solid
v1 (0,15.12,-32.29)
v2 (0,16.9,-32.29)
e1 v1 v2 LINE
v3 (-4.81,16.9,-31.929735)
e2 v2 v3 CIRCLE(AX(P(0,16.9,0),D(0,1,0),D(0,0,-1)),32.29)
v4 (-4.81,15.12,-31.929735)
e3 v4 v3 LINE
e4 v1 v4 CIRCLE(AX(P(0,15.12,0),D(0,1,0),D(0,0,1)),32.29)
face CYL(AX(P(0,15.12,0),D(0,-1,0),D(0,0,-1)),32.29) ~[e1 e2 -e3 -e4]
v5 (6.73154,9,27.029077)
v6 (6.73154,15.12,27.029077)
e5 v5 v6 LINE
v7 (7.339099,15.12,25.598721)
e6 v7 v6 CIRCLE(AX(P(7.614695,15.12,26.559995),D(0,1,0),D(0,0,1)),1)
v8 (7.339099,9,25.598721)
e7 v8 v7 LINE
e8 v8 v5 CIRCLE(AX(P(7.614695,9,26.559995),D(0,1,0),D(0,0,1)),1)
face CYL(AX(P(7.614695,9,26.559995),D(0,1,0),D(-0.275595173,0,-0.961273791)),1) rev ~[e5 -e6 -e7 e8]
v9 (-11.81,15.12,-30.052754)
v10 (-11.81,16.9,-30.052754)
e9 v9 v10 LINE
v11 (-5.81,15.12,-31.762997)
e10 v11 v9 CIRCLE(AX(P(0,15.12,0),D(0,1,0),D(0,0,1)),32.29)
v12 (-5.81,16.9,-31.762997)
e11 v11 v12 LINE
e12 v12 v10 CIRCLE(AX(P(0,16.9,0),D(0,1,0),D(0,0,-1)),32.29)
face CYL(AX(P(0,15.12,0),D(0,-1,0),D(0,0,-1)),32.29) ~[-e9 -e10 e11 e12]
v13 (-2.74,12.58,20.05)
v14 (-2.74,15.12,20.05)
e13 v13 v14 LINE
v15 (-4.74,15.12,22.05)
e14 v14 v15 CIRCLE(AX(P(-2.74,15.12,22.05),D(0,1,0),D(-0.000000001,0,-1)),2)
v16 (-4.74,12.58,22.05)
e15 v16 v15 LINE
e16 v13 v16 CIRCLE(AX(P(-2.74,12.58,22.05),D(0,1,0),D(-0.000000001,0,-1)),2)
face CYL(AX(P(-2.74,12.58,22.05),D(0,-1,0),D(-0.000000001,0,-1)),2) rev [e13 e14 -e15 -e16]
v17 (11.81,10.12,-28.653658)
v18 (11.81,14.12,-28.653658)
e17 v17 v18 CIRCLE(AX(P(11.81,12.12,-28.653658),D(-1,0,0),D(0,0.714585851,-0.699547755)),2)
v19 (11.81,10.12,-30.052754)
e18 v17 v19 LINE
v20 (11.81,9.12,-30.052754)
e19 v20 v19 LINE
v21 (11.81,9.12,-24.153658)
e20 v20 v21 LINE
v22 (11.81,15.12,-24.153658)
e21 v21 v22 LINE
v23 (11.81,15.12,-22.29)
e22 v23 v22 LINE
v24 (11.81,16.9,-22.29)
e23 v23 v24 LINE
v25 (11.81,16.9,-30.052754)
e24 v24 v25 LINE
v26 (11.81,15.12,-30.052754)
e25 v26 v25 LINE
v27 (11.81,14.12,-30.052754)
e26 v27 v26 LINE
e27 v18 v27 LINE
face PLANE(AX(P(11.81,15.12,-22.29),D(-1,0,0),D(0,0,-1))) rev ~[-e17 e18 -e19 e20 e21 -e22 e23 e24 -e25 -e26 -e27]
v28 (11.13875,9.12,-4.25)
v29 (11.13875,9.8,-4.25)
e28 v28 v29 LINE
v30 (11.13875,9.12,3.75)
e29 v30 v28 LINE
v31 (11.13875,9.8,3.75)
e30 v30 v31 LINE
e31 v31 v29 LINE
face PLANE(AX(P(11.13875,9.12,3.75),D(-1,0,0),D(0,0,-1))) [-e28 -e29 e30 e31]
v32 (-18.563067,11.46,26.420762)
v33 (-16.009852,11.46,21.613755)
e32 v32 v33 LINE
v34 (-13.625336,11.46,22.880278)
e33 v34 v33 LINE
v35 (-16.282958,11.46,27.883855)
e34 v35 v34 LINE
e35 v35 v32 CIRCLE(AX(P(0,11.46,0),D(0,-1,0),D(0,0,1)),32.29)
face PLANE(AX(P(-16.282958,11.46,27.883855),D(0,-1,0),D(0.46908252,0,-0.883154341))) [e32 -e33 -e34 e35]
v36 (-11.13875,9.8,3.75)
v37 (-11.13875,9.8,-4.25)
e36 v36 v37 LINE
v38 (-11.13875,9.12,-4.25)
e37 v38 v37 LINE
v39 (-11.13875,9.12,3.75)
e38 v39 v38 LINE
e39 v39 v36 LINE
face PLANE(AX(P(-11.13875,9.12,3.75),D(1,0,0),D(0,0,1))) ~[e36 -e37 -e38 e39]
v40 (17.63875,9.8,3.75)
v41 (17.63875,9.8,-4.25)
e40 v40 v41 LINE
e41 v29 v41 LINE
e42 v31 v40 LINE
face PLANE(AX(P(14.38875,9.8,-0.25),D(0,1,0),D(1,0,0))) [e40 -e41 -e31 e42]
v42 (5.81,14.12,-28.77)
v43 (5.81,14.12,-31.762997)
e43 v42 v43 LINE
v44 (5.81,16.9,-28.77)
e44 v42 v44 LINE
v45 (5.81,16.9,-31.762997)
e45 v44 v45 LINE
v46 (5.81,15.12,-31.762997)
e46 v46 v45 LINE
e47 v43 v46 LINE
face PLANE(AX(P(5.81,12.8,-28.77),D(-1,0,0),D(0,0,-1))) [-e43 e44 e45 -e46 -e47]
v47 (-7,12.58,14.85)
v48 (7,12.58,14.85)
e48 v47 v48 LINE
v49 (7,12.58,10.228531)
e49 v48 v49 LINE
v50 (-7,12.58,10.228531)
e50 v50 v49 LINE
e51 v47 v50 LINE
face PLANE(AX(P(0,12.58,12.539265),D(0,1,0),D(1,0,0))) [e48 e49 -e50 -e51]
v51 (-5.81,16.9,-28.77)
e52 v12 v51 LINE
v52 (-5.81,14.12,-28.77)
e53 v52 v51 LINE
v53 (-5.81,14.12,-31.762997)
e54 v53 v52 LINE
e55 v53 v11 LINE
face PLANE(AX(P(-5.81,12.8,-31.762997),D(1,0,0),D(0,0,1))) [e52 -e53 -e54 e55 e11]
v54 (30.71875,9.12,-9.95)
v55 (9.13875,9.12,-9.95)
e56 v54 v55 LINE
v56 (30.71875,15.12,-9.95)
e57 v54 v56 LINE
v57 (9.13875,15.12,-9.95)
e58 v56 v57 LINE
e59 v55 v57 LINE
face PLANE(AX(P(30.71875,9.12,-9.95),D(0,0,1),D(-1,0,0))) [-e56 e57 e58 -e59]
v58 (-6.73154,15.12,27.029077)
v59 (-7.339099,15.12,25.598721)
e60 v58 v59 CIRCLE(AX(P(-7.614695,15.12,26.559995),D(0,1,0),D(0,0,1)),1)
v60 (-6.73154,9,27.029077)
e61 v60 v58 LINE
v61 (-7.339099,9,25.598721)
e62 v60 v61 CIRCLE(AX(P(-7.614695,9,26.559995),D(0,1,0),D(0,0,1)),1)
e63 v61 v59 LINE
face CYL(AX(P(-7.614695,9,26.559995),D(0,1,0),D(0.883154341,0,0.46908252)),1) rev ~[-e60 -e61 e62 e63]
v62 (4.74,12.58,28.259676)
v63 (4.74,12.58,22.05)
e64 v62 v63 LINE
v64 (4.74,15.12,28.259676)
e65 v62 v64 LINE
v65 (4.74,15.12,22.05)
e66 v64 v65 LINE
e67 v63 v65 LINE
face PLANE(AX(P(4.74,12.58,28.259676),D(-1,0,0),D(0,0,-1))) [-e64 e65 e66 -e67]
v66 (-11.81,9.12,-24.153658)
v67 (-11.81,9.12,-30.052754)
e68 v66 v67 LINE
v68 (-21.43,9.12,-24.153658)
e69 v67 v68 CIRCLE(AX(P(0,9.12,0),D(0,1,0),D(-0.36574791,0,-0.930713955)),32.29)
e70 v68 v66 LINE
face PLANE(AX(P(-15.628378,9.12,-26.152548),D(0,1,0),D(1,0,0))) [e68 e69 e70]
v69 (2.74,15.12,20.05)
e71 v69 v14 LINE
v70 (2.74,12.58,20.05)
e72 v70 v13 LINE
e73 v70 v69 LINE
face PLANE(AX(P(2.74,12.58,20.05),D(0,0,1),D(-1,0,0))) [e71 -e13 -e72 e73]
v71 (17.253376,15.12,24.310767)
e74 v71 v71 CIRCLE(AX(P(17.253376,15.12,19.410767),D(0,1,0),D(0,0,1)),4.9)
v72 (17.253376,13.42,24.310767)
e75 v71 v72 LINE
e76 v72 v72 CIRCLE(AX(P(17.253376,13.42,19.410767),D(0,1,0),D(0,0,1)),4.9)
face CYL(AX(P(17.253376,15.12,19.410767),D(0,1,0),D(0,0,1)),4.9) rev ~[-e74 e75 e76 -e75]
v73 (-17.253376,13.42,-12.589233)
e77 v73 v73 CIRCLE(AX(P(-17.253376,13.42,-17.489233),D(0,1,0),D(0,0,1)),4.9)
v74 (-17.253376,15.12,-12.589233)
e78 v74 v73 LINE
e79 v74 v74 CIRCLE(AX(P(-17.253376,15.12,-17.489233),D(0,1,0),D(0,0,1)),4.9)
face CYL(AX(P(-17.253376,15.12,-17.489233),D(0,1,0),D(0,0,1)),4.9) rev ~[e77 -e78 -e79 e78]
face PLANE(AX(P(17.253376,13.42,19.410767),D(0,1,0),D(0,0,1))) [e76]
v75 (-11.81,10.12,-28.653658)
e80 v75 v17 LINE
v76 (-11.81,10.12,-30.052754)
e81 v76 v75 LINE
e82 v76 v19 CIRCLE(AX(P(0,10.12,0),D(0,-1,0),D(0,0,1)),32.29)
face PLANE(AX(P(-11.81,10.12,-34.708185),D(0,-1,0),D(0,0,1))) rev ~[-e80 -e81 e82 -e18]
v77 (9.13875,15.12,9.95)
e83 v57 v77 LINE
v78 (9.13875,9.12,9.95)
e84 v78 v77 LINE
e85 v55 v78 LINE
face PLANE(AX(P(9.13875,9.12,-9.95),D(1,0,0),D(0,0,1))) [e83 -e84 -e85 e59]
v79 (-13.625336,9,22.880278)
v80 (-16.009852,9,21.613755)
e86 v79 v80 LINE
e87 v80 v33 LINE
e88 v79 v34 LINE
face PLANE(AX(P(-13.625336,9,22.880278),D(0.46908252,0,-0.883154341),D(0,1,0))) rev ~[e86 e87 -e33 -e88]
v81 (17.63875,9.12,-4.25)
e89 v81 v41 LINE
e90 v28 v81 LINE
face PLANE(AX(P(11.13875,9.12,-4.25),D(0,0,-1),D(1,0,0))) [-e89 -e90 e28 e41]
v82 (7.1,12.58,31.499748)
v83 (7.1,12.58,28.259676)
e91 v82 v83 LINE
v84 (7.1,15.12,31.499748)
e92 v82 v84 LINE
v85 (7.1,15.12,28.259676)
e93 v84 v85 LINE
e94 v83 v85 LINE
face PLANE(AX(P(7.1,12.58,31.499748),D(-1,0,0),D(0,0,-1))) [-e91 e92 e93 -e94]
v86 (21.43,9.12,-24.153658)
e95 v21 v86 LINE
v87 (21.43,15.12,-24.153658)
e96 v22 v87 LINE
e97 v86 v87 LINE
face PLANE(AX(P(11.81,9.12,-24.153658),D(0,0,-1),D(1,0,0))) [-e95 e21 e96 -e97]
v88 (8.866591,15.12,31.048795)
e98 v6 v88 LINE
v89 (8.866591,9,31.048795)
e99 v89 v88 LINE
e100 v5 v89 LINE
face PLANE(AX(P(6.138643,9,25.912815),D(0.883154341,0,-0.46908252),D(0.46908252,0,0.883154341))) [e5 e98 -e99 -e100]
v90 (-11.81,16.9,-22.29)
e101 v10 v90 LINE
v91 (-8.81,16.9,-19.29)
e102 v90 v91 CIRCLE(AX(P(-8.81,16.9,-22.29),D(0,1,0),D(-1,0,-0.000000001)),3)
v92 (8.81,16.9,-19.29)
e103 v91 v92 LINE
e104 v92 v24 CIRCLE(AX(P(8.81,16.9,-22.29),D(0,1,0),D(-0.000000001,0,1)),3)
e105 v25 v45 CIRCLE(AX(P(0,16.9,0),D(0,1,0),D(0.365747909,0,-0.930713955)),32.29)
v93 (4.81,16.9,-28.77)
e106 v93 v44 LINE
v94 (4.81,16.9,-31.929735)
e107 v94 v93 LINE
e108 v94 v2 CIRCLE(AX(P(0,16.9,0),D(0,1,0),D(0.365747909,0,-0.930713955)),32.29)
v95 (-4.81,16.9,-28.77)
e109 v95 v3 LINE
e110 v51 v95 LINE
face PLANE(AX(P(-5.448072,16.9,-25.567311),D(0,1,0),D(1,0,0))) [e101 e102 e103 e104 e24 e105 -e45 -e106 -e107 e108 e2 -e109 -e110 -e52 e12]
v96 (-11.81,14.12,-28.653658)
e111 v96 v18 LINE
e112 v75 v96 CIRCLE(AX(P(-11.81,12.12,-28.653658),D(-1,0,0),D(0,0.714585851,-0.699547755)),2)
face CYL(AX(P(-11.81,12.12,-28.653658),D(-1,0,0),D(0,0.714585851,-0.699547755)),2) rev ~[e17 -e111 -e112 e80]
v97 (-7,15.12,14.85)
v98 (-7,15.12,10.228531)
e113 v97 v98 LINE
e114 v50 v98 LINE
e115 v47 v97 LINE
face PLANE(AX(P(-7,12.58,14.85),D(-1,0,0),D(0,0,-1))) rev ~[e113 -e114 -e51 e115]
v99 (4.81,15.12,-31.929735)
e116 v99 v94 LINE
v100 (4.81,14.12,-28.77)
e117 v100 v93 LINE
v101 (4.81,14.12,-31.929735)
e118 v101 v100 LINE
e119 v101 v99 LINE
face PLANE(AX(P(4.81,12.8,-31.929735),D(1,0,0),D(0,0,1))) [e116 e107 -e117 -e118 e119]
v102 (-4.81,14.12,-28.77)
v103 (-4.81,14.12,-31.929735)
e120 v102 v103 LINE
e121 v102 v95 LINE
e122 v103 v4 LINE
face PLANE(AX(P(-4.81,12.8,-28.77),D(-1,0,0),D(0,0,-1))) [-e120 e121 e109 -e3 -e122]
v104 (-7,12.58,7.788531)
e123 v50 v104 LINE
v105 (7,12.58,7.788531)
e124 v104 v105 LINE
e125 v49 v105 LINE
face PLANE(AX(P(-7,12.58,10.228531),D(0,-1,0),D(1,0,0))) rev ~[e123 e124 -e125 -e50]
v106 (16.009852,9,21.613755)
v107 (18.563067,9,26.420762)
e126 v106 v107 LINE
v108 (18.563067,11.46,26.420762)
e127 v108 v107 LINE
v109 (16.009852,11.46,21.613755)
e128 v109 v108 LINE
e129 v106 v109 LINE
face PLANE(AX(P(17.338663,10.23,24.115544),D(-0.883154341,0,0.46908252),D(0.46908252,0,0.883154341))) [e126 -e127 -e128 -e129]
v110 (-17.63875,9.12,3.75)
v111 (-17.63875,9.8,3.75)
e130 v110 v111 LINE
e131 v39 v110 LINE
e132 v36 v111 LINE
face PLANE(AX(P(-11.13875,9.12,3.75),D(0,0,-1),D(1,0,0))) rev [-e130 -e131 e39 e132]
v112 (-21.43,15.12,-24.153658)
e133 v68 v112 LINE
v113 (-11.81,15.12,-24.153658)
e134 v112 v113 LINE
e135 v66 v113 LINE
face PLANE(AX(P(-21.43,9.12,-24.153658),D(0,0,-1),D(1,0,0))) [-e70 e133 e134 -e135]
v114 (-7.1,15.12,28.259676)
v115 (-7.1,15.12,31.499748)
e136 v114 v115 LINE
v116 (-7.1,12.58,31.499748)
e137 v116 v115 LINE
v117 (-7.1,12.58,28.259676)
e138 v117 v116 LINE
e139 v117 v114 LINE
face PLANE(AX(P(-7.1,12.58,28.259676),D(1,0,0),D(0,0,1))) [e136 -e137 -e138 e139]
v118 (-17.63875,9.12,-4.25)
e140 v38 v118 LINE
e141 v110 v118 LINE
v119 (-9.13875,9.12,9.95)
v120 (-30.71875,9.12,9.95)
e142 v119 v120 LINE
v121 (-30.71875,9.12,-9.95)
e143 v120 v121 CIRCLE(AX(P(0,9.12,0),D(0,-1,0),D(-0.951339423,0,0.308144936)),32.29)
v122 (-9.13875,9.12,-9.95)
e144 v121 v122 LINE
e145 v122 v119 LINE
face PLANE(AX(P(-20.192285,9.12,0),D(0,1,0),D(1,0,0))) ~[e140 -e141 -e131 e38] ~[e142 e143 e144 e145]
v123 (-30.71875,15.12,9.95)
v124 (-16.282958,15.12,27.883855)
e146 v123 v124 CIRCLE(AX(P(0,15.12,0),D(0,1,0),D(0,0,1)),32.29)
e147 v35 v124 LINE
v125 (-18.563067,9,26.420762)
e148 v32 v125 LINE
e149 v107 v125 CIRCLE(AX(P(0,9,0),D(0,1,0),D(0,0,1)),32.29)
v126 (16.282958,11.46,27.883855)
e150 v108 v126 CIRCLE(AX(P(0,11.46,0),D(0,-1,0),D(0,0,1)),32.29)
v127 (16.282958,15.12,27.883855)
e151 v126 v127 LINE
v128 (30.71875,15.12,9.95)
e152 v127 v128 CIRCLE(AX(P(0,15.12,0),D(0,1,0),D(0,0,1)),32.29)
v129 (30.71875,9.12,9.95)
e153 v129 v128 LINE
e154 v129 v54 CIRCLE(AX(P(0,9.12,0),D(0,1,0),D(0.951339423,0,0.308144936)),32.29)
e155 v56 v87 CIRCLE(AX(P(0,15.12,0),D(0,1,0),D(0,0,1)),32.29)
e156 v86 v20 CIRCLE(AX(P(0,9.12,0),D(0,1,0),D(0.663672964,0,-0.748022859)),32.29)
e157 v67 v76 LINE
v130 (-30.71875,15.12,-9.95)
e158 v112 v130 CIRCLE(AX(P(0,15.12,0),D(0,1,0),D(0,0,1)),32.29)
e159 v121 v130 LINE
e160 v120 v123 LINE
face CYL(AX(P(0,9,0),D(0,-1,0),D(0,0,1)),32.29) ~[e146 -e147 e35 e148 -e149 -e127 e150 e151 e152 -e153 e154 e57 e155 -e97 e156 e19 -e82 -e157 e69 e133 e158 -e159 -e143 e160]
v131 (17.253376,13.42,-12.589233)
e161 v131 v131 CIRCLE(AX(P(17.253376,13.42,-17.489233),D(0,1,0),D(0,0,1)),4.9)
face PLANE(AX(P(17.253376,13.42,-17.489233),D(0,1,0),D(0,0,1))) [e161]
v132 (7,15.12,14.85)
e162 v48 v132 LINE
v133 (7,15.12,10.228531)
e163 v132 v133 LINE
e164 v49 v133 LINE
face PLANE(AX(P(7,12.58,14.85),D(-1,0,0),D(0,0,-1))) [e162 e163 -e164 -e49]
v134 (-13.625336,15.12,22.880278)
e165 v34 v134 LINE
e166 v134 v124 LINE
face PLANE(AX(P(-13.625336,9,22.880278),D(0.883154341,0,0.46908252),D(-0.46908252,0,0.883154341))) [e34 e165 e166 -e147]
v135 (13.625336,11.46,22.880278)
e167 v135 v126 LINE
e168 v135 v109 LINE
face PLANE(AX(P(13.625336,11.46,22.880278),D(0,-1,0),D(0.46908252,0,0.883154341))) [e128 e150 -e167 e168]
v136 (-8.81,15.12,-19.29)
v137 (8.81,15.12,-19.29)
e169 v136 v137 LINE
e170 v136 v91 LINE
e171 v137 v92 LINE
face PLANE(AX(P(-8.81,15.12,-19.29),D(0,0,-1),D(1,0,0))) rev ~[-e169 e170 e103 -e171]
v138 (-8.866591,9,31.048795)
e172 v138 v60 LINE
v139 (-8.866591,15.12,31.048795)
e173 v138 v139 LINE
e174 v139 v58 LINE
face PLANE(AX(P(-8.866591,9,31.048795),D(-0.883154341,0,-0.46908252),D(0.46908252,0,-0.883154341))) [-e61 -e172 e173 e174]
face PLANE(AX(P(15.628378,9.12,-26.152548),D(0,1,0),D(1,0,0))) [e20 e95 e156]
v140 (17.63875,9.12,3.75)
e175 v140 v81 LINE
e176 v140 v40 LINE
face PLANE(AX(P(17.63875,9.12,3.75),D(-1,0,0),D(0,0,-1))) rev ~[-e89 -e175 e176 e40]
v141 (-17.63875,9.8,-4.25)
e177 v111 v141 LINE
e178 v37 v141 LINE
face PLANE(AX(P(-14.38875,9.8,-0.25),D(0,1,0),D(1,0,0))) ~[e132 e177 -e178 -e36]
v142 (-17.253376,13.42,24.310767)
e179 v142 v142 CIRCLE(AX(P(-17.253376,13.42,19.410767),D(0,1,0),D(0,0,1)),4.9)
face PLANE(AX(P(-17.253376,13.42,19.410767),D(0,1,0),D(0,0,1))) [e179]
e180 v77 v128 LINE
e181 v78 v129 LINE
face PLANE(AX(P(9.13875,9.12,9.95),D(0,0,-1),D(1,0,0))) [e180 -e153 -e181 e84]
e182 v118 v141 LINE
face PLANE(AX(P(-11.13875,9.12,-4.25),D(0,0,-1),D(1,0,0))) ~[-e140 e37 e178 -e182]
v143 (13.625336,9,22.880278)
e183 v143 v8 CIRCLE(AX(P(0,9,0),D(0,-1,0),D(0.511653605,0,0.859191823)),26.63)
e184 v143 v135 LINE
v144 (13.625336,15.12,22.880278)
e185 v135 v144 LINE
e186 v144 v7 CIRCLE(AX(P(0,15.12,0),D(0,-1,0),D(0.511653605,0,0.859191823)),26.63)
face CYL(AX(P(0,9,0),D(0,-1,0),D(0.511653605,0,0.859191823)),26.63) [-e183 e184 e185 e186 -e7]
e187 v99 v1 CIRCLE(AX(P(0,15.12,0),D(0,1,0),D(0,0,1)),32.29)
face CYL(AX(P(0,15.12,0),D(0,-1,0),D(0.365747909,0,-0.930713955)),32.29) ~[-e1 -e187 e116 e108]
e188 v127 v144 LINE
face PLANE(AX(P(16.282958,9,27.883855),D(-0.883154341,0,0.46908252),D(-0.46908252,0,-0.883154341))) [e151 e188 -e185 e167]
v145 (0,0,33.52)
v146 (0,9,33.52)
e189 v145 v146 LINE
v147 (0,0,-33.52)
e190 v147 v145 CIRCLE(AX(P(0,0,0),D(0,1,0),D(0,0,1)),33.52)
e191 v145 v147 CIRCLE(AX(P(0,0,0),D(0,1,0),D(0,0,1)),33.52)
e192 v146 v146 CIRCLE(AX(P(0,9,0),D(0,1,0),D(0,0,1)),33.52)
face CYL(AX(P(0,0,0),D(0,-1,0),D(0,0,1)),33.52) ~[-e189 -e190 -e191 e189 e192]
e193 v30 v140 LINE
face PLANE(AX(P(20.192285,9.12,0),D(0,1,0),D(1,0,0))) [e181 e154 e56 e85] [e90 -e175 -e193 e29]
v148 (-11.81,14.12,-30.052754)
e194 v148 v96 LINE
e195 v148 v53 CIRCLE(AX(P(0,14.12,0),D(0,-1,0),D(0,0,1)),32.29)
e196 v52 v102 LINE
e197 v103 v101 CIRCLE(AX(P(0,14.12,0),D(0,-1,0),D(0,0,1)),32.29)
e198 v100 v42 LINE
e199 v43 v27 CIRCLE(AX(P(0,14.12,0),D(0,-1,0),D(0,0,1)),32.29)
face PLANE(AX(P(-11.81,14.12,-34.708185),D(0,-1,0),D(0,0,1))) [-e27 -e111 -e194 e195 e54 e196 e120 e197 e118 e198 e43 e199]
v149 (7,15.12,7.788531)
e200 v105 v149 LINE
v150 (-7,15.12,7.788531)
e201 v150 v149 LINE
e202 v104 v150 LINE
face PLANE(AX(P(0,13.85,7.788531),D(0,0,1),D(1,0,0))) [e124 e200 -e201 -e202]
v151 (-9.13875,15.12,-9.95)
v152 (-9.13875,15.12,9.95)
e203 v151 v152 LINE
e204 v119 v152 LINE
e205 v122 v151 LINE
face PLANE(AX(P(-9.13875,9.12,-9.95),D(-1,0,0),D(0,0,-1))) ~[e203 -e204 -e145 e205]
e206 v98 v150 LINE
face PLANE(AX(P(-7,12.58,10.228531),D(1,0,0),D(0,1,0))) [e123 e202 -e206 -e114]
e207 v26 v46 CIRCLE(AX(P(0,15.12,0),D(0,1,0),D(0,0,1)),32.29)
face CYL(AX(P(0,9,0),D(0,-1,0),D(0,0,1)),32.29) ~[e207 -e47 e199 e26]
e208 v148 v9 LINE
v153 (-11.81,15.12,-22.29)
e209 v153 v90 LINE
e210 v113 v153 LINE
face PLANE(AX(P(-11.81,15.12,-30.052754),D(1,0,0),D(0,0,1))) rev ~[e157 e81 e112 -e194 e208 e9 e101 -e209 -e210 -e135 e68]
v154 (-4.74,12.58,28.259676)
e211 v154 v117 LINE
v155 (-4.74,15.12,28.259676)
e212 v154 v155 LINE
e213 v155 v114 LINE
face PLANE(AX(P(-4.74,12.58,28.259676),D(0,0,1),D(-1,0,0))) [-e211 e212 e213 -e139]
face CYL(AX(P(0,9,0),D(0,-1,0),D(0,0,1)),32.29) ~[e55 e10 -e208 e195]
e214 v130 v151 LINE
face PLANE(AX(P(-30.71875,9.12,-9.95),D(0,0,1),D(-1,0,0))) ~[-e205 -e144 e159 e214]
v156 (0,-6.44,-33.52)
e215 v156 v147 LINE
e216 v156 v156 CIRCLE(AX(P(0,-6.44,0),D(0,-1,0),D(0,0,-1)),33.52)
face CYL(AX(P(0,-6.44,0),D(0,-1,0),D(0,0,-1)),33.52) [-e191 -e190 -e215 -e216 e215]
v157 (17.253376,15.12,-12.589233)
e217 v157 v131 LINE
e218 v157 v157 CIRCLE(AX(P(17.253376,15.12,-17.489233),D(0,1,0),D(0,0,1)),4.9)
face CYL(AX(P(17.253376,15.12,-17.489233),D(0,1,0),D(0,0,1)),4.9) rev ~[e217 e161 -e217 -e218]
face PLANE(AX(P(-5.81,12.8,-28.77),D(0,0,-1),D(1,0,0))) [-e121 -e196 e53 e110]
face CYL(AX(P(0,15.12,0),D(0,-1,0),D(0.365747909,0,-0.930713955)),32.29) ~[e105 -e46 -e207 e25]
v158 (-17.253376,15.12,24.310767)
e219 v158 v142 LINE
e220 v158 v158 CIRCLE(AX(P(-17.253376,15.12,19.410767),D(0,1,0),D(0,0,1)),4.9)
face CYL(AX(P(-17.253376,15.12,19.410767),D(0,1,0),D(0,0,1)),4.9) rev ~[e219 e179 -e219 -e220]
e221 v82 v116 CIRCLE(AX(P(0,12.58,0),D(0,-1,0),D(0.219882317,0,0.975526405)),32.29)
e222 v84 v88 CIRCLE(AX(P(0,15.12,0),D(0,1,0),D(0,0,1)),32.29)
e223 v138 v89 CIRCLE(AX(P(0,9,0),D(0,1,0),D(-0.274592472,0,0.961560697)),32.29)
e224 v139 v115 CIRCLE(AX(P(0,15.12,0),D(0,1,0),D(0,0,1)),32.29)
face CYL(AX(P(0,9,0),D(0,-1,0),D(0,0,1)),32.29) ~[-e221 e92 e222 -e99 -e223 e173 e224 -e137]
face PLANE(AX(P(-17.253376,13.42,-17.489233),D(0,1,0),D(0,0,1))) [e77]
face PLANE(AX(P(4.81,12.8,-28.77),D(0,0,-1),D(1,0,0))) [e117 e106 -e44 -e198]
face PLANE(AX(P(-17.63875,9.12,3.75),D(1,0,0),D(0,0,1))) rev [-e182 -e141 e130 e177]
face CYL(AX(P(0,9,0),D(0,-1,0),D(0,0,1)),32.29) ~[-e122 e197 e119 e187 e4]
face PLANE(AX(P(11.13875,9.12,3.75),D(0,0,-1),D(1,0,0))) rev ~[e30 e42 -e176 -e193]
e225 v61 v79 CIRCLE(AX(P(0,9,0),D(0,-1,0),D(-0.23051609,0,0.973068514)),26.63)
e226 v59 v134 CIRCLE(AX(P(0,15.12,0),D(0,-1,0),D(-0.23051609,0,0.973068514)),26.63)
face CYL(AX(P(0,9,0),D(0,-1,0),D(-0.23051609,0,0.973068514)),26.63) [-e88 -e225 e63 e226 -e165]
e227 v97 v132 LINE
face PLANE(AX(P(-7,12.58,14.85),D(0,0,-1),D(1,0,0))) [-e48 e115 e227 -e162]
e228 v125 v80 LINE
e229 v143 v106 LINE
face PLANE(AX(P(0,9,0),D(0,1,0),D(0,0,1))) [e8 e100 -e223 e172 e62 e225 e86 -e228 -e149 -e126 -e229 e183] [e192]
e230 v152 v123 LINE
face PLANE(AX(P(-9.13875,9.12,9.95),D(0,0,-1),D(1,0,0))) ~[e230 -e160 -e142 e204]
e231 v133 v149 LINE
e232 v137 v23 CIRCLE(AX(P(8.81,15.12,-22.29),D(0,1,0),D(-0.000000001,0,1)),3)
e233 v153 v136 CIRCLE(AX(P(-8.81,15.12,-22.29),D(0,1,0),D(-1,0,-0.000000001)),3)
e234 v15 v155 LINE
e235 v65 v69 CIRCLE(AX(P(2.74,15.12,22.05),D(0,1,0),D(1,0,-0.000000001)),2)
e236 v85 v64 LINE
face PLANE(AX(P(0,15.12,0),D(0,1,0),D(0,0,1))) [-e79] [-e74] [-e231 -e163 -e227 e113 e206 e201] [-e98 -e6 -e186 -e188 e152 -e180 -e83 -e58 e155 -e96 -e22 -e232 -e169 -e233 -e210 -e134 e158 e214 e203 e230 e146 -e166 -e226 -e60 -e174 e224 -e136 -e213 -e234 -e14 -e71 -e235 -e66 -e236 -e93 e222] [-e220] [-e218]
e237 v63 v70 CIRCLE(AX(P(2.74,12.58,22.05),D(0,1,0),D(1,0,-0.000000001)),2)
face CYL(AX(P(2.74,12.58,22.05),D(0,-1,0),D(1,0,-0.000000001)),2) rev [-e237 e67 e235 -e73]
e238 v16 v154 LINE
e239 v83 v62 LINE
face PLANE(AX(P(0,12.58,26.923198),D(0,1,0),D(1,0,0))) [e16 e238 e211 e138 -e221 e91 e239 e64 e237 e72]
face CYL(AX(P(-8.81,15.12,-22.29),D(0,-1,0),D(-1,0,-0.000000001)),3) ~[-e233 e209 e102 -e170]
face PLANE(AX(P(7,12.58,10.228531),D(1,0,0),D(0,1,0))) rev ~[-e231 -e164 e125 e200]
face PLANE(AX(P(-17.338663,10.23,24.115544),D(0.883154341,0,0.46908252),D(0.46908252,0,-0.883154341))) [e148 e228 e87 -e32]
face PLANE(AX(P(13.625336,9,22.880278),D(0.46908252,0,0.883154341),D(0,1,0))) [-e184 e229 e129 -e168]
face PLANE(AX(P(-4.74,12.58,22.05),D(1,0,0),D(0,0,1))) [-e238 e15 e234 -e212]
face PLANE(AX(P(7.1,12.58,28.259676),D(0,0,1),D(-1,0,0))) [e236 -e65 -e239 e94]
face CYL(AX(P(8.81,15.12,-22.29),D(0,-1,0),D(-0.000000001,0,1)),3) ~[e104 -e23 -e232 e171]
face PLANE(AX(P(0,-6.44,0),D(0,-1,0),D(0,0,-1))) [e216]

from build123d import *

# Parameters (mm, degrees)
SKETCH1_R           = 33.52
BOSS_EXTRUDE1_DEPTH = 9
SKETCH2_R           = 32.29
BOSS_EXTRUDE2_DEPTH = 6.12
CUT_EXTRUDE1_START  = -6
CUT_EXTRUDE1_DEPTH  = 6
SKETCH10_R          = 2
CUT_EXTRUDE2_DEPTH  = 59.369629946
SKETCH23_W          = 6.054526745
SKETCH23_H          = 4
CUT_EXTRUDE3_DEPTH  = 59.369629972
BOSS_EXTRUDE4_DEPTH = 1.78
CUT_EXTRUDE5_START  = -6
CUT_EXTRUDE5_DEPTH  = 6
CUT_EXTRUDE6_START  = -2.54
SKETCH26_W          = 14
SKETCH26_H          = 4.621469047
CUT_EXTRUDE6_DEPTH  = 2.54
CUT_EXTRUDE7_START  = -6.12
CUT_EXTRUDE7_DEPTH  = 6.12
SKETCH26_7_R        = 4.9
CUT_EXTRUDE8_DEPTH  = 1.7
SKETCH37_W          = 5.66557495
SKETCH37_H          = 2.46
CUT_EXTRUDE13_DEPTH = 2.7
SKETCH30_W          = 5.66557495
SKETCH30_H          = 2.46
CUT_EXTRUDE14_DEPTH = 2.7
SKETCH40_W          = 6.5
SKETCH40_H          = 8
BOSS_EXTRUDE5_DEPTH = 0.68
CUT_EXTRUDE15_START = -4.1
CUT_EXTRUDE15_DEPTH = 4.1
BOSS_EXTRUDE6_START = 6.44
SKETCH41_R          = 33.52
BOSS_EXTRUDE6_DEPTH = 6.44
SKETCH43_W          = 14
SKETCH43_H          = 2.54
CUT_EXTRUDE16_DEPTH = 2.44
FILLET1_R           = 1
FILLET2_R           = 1


with BuildPart() as part:
    # Sketch1 → Boss-Extrude1 (new body)
    with BuildSketch(Plane(origin=(0, 0, 0), x_dir=(1, 0, 0), z_dir=(0, 1, 0))):
        with Locations(Location((0, 0, 0), (0, 0, 270))):
            Circle(SKETCH1_R)
    extrude(amount=BOSS_EXTRUDE1_DEPTH)

    # Sketch2 → Boss-Extrude2 (add)
    with BuildSketch(Plane(origin=(0, 9, 0), x_dir=(1, 0, 0), z_dir=(0, 1, 0))):
        with Locations(Location((0, 0, 0), (0, 0, 270))):
            Circle(SKETCH2_R)
    extrude(amount=BOSS_EXTRUDE2_DEPTH)

    # Sketch3 → Cut-Extrude1 (cut)
    with BuildSketch(Plane(origin=(0, 15.12, 0), x_dir=(1, 0, 0), z_dir=(0, 1, 0)).offset(CUT_EXTRUDE1_START)):
        with BuildLine():
            Line((-11.81, 24.153658108), (-11.81, 30.052753618))
            ThreePointArc((-11.81, 30.052753618), (-16.879698811, 27.5267119), (-21.43, 24.153658108))
            Line((-21.43, 24.153658108), (-11.81, 24.153658108))
        make_face()
        with BuildLine():
            ThreePointArc((21.43, 24.153658108), (16.879698811, 27.5267119), (11.81, 30.052753618))
            Line((11.81, 30.052753618), (11.81, 24.153658108))
            Line((11.81, 24.153658108), (21.43, 24.153658108))
        make_face()
    extrude(amount=CUT_EXTRUDE1_DEPTH, mode=Mode.SUBTRACT)

    # Sketch10 → Cut-Extrude2 (cut, through all)
    with BuildSketch(Plane.ZY.offset(11.81)):
        with Locations(Location((-28.653658108, 12.12, 0), (0, 0, 134.390731556))):
            Circle(SKETCH10_R)
    extrude(amount=-CUT_EXTRUDE2_DEPTH, mode=Mode.SUBTRACT)

    # Sketch23 → Cut-Extrude3 (cut, through all)
    with BuildSketch(Plane.ZY.offset(11.81)):
        with Locations((-31.680921481, 12.12)):
            Rectangle(SKETCH23_W, SKETCH23_H)
    extrude(amount=-CUT_EXTRUDE3_DEPTH, mode=Mode.SUBTRACT)

    # Sketch24 → Boss-Extrude4 (add)
    with BuildSketch(Plane(origin=(0, 15.12, 0), x_dir=(1, 0, 0), z_dir=(0, 1, 0))):
        with BuildLine():
            ThreePointArc((0, 32.29), (-6.010020203, 31.725758575), (-11.81, 30.052753618))
            Line((-11.81, 30.052753618), (-11.81, 24.153658108))
            Line((-11.81, 24.153658108), (-11.81, 22.29))
            ThreePointArc((-11.81, 22.29), (-10.931320344, 20.168679656), (-8.81, 19.29))
            Line((-8.81, 19.29), (0, 19.29))
            Line((0, 19.29), (0, 32.29))
        make_face()
        with BuildLine():
            ThreePointArc((11.81, 30.052753618), (6.010020203, 31.725758575), (0, 32.29))
            Line((0, 32.29), (0, 19.29))
            Line((0, 19.29), (8.81, 19.29))
            ThreePointArc((8.81, 19.29), (10.931320344, 20.168679656), (11.81, 22.29))
            Line((11.81, 22.29), (11.81, 24.153658108))
            Line((11.81, 24.153658108), (11.81, 30.052753618))
        make_face()
    extrude(amount=BOSS_EXTRUDE4_DEPTH)

    # Sketch26<4> → Cut-Extrude5 (cut)
    with BuildSketch(Plane(origin=(0, 15.12, 0), x_dir=(1, 0, 0), z_dir=(0, 1, 0)).offset(CUT_EXTRUDE5_START)):
        with BuildLine():
            ThreePointArc((30.718749975, -9.95), (32.29, 0), (30.718749975, 9.95))
            Line((30.718749975, 9.95), (9.138749975, 9.95))
            Line((9.138749975, 9.95), (9.138749975, -9.95))
            Line((9.138749975, -9.95), (30.718749975, -9.95))
        make_face()
    cut_extrude5 = extrude(amount=CUT_EXTRUDE5_DEPTH, mode=Mode.SUBTRACT)

    # Sketch26 → Cut-Extrude6 (cut)
    with BuildSketch(Plane(origin=(0, 15.12, 0), x_dir=(1, 0, 0), z_dir=(0, 1, 0)).offset(CUT_EXTRUDE6_START)):
        with BuildLine():
            ThreePointArc((-7.1, -31.499747618), (0, -32.29), (7.1, -31.499747618))
            Line((7.1, -31.499747618), (7.1, -28.259676136))
            Line((7.1, -28.259676136), (4.74, -28.259676136))
            Line((4.74, -28.259676136), (4.74, -26.204757202))
            Line((4.74, -26.204757202), (4.74, -22.05))
            ThreePointArc((4.74, -22.05), (4.154213562, -20.635786438), (2.74, -20.05))
            Line((2.74, -20.05), (-2.74, -20.05))
            ThreePointArc((-2.74, -20.05), (-4.154213562, -20.635786438), (-4.74, -22.05))
            Line((-4.74, -22.05), (-4.74, -26.204757202))
            Line((-4.74, -26.204757202), (-4.74, -28.259676136))
            Line((-4.74, -28.259676136), (-7.1, -28.259676136))
            Line((-7.1, -28.259676136), (-7.1, -31.499747618))
        make_face()
        with Locations((0, -12.539265477)):
            Rectangle(SKETCH26_W, SKETCH26_H)
    extrude(amount=CUT_EXTRUDE6_DEPTH, mode=Mode.SUBTRACT)

    # Sketch28 → Cut-Extrude7 (cut)
    with BuildSketch(Plane(origin=(0, 15.12, 0), x_dir=(1, 0, 0), z_dir=(0, 1, 0)).offset(CUT_EXTRUDE7_START)):
        with BuildLine():
            ThreePointArc((-6.138643472, -25.91281452), (-9.99763899, -24.682060583), (-13.62533551, -22.880278238))
            Line((-13.62533551, -22.880278238), (-16.282957683, -27.883855348))
            ThreePointArc((-16.282957683, -27.883855348), (-12.673955944, -29.698736349), (-8.866590913, -31.048794913))
            Line((-8.866590913, -31.048794913), (-6.138643472, -25.91281452))
        make_face()
        with BuildLine():
            ThreePointArc((13.62533551, -22.880278238), (9.99763899, -24.682060583), (6.138643472, -25.91281452))
            Line((6.138643472, -25.91281452), (8.866590913, -31.048794913))
            ThreePointArc((8.866590913, -31.048794913), (12.673955944, -29.698736349), (16.282957683, -27.883855348))
            Line((16.282957683, -27.883855348), (13.62533551, -22.880278238))
        make_face()
    extrude(amount=CUT_EXTRUDE7_DEPTH, mode=Mode.SUBTRACT)

    # Sketch26<7> → Cut-Extrude8 (cut)
    with BuildSketch(Plane(origin=(0, 15.12, 0), x_dir=(1, 0, 0), z_dir=(0, 1, 0))):
        with Locations(Location((17.253376134, 17.489232673, 0), (0, 0, 270))):
            Circle(SKETCH26_7_R)
        with Locations(Location((17.253376134, -19.410767327, 0), (0, 0, 270))):
            Circle(SKETCH26_7_R)
        with Locations(Location((-17.253376134, -19.410767327, 0), (0, 0, 270))):
            Circle(SKETCH26_7_R)
        with Locations(Location((-17.253376134, 17.489232673, 0), (0, 0, 270))):
            Circle(SKETCH26_7_R)
    extrude(amount=-CUT_EXTRUDE8_DEPTH, mode=Mode.SUBTRACT)

    # Sketch37 → Cut-Extrude13 (cut)
    with BuildSketch(Plane(origin=(1.148573691, 0, -0.610058532), x_dir=(0.4690825196866177, 0, 0.8831543408286312), z_dir=(-0.8831543408286312, 0, 0.4690825196866177))):
        with Locations((29.431011233, 10.23)):
            Rectangle(SKETCH37_W, SKETCH37_H)
    extrude(amount=-CUT_EXTRUDE13_DEPTH, mode=Mode.SUBTRACT)

    # Sketch30 → Cut-Extrude14 (cut)
    with BuildSketch(Plane(origin=(-1.148573691, 0, -0.610058532), x_dir=(0.4690825196866177, 0, -0.8831543408286312), z_dir=(0.8831543408286312, 0, 0.4690825196866177))):
        with Locations((-29.431011233, 10.23)):
            Rectangle(SKETCH30_W, SKETCH30_H)
    extrude(amount=-CUT_EXTRUDE14_DEPTH, mode=Mode.SUBTRACT)

    # Sketch40 → Boss-Extrude5 (add)
    with BuildSketch(Plane(origin=(0, 9.12, 0), x_dir=(1, 0, 0), z_dir=(0, 1, 0))):
        with Locations((14.388749975, 0.25)):
            Rectangle(SKETCH40_W, SKETCH40_H)
    boss_extrude5 = extrude(amount=BOSS_EXTRUDE5_DEPTH)

    # Sketch31 → Cut-Extrude15 (cut)
    with BuildSketch(Plane(origin=(0, 16.9, 0), x_dir=(1, 0, 0), z_dir=(0, 1, 0)).offset(CUT_EXTRUDE15_START)):
        with BuildLine():
            ThreePointArc((-4.81, 31.929735358), (-5.310654422, 31.850291201), (-5.81, 31.76299734))
            Line((-5.81, 31.76299734), (-5.81, 28.77))
            Line((-5.81, 28.77), (-4.81, 28.77))
            Line((-4.81, 28.77), (-4.81, 31.929735358))
        make_face()
        with BuildLine():
            ThreePointArc((5.81, 31.76299734), (5.310654422, 31.850291201), (4.81, 31.929735358))
            Line((4.81, 31.929735358), (4.81, 28.77))
            Line((4.81, 28.77), (5.81, 28.77))
            Line((5.81, 28.77), (5.81, 31.76299734))
        make_face()
    extrude(amount=CUT_EXTRUDE15_DEPTH, mode=Mode.SUBTRACT)

    # Sketch41 → Boss-Extrude6 (add)
    with BuildSketch(Plane.XZ.offset(BOSS_EXTRUDE6_START)):
        with Locations(Location((0, 0, 0), (0, 0, 270))):
            Circle(SKETCH41_R)
    extrude(amount=-BOSS_EXTRUDE6_DEPTH)

    # Sketch43 → Cut-Extrude16 (cut)
    with BuildSketch(Plane.XY.offset(10.228530953)):
        with Locations((0, 13.85)):
            Rectangle(SKETCH43_W, SKETCH43_H)
    extrude(amount=-CUT_EXTRUDE16_DEPTH, mode=Mode.SUBTRACT)

    # Mirror1: Cut-Extrude5 across plane
    add(cut_extrude5.mirror(Plane.ZY), mode=Mode.SUBTRACT)

    # Mirror2: Boss-Extrude5 across plane
    add(boss_extrude5.mirror(Plane.ZY))

    # Fillet1
    fillet1_edges = [part.edges().sort_by_distance(p)[0] for p in [
        (6.138643472, 12.06, 25.91281452),
    ]]
    fillet(fillet1_edges, radius=FILLET1_R)

    # Fillet2
    fillet2_edges = [part.edges().sort_by_distance(p)[0] for p in [
        (-6.138643472, 12.06, 25.91281452),
    ]]
    fillet(fillet2_edges, radius=FILLET2_R)


solid = part.part
